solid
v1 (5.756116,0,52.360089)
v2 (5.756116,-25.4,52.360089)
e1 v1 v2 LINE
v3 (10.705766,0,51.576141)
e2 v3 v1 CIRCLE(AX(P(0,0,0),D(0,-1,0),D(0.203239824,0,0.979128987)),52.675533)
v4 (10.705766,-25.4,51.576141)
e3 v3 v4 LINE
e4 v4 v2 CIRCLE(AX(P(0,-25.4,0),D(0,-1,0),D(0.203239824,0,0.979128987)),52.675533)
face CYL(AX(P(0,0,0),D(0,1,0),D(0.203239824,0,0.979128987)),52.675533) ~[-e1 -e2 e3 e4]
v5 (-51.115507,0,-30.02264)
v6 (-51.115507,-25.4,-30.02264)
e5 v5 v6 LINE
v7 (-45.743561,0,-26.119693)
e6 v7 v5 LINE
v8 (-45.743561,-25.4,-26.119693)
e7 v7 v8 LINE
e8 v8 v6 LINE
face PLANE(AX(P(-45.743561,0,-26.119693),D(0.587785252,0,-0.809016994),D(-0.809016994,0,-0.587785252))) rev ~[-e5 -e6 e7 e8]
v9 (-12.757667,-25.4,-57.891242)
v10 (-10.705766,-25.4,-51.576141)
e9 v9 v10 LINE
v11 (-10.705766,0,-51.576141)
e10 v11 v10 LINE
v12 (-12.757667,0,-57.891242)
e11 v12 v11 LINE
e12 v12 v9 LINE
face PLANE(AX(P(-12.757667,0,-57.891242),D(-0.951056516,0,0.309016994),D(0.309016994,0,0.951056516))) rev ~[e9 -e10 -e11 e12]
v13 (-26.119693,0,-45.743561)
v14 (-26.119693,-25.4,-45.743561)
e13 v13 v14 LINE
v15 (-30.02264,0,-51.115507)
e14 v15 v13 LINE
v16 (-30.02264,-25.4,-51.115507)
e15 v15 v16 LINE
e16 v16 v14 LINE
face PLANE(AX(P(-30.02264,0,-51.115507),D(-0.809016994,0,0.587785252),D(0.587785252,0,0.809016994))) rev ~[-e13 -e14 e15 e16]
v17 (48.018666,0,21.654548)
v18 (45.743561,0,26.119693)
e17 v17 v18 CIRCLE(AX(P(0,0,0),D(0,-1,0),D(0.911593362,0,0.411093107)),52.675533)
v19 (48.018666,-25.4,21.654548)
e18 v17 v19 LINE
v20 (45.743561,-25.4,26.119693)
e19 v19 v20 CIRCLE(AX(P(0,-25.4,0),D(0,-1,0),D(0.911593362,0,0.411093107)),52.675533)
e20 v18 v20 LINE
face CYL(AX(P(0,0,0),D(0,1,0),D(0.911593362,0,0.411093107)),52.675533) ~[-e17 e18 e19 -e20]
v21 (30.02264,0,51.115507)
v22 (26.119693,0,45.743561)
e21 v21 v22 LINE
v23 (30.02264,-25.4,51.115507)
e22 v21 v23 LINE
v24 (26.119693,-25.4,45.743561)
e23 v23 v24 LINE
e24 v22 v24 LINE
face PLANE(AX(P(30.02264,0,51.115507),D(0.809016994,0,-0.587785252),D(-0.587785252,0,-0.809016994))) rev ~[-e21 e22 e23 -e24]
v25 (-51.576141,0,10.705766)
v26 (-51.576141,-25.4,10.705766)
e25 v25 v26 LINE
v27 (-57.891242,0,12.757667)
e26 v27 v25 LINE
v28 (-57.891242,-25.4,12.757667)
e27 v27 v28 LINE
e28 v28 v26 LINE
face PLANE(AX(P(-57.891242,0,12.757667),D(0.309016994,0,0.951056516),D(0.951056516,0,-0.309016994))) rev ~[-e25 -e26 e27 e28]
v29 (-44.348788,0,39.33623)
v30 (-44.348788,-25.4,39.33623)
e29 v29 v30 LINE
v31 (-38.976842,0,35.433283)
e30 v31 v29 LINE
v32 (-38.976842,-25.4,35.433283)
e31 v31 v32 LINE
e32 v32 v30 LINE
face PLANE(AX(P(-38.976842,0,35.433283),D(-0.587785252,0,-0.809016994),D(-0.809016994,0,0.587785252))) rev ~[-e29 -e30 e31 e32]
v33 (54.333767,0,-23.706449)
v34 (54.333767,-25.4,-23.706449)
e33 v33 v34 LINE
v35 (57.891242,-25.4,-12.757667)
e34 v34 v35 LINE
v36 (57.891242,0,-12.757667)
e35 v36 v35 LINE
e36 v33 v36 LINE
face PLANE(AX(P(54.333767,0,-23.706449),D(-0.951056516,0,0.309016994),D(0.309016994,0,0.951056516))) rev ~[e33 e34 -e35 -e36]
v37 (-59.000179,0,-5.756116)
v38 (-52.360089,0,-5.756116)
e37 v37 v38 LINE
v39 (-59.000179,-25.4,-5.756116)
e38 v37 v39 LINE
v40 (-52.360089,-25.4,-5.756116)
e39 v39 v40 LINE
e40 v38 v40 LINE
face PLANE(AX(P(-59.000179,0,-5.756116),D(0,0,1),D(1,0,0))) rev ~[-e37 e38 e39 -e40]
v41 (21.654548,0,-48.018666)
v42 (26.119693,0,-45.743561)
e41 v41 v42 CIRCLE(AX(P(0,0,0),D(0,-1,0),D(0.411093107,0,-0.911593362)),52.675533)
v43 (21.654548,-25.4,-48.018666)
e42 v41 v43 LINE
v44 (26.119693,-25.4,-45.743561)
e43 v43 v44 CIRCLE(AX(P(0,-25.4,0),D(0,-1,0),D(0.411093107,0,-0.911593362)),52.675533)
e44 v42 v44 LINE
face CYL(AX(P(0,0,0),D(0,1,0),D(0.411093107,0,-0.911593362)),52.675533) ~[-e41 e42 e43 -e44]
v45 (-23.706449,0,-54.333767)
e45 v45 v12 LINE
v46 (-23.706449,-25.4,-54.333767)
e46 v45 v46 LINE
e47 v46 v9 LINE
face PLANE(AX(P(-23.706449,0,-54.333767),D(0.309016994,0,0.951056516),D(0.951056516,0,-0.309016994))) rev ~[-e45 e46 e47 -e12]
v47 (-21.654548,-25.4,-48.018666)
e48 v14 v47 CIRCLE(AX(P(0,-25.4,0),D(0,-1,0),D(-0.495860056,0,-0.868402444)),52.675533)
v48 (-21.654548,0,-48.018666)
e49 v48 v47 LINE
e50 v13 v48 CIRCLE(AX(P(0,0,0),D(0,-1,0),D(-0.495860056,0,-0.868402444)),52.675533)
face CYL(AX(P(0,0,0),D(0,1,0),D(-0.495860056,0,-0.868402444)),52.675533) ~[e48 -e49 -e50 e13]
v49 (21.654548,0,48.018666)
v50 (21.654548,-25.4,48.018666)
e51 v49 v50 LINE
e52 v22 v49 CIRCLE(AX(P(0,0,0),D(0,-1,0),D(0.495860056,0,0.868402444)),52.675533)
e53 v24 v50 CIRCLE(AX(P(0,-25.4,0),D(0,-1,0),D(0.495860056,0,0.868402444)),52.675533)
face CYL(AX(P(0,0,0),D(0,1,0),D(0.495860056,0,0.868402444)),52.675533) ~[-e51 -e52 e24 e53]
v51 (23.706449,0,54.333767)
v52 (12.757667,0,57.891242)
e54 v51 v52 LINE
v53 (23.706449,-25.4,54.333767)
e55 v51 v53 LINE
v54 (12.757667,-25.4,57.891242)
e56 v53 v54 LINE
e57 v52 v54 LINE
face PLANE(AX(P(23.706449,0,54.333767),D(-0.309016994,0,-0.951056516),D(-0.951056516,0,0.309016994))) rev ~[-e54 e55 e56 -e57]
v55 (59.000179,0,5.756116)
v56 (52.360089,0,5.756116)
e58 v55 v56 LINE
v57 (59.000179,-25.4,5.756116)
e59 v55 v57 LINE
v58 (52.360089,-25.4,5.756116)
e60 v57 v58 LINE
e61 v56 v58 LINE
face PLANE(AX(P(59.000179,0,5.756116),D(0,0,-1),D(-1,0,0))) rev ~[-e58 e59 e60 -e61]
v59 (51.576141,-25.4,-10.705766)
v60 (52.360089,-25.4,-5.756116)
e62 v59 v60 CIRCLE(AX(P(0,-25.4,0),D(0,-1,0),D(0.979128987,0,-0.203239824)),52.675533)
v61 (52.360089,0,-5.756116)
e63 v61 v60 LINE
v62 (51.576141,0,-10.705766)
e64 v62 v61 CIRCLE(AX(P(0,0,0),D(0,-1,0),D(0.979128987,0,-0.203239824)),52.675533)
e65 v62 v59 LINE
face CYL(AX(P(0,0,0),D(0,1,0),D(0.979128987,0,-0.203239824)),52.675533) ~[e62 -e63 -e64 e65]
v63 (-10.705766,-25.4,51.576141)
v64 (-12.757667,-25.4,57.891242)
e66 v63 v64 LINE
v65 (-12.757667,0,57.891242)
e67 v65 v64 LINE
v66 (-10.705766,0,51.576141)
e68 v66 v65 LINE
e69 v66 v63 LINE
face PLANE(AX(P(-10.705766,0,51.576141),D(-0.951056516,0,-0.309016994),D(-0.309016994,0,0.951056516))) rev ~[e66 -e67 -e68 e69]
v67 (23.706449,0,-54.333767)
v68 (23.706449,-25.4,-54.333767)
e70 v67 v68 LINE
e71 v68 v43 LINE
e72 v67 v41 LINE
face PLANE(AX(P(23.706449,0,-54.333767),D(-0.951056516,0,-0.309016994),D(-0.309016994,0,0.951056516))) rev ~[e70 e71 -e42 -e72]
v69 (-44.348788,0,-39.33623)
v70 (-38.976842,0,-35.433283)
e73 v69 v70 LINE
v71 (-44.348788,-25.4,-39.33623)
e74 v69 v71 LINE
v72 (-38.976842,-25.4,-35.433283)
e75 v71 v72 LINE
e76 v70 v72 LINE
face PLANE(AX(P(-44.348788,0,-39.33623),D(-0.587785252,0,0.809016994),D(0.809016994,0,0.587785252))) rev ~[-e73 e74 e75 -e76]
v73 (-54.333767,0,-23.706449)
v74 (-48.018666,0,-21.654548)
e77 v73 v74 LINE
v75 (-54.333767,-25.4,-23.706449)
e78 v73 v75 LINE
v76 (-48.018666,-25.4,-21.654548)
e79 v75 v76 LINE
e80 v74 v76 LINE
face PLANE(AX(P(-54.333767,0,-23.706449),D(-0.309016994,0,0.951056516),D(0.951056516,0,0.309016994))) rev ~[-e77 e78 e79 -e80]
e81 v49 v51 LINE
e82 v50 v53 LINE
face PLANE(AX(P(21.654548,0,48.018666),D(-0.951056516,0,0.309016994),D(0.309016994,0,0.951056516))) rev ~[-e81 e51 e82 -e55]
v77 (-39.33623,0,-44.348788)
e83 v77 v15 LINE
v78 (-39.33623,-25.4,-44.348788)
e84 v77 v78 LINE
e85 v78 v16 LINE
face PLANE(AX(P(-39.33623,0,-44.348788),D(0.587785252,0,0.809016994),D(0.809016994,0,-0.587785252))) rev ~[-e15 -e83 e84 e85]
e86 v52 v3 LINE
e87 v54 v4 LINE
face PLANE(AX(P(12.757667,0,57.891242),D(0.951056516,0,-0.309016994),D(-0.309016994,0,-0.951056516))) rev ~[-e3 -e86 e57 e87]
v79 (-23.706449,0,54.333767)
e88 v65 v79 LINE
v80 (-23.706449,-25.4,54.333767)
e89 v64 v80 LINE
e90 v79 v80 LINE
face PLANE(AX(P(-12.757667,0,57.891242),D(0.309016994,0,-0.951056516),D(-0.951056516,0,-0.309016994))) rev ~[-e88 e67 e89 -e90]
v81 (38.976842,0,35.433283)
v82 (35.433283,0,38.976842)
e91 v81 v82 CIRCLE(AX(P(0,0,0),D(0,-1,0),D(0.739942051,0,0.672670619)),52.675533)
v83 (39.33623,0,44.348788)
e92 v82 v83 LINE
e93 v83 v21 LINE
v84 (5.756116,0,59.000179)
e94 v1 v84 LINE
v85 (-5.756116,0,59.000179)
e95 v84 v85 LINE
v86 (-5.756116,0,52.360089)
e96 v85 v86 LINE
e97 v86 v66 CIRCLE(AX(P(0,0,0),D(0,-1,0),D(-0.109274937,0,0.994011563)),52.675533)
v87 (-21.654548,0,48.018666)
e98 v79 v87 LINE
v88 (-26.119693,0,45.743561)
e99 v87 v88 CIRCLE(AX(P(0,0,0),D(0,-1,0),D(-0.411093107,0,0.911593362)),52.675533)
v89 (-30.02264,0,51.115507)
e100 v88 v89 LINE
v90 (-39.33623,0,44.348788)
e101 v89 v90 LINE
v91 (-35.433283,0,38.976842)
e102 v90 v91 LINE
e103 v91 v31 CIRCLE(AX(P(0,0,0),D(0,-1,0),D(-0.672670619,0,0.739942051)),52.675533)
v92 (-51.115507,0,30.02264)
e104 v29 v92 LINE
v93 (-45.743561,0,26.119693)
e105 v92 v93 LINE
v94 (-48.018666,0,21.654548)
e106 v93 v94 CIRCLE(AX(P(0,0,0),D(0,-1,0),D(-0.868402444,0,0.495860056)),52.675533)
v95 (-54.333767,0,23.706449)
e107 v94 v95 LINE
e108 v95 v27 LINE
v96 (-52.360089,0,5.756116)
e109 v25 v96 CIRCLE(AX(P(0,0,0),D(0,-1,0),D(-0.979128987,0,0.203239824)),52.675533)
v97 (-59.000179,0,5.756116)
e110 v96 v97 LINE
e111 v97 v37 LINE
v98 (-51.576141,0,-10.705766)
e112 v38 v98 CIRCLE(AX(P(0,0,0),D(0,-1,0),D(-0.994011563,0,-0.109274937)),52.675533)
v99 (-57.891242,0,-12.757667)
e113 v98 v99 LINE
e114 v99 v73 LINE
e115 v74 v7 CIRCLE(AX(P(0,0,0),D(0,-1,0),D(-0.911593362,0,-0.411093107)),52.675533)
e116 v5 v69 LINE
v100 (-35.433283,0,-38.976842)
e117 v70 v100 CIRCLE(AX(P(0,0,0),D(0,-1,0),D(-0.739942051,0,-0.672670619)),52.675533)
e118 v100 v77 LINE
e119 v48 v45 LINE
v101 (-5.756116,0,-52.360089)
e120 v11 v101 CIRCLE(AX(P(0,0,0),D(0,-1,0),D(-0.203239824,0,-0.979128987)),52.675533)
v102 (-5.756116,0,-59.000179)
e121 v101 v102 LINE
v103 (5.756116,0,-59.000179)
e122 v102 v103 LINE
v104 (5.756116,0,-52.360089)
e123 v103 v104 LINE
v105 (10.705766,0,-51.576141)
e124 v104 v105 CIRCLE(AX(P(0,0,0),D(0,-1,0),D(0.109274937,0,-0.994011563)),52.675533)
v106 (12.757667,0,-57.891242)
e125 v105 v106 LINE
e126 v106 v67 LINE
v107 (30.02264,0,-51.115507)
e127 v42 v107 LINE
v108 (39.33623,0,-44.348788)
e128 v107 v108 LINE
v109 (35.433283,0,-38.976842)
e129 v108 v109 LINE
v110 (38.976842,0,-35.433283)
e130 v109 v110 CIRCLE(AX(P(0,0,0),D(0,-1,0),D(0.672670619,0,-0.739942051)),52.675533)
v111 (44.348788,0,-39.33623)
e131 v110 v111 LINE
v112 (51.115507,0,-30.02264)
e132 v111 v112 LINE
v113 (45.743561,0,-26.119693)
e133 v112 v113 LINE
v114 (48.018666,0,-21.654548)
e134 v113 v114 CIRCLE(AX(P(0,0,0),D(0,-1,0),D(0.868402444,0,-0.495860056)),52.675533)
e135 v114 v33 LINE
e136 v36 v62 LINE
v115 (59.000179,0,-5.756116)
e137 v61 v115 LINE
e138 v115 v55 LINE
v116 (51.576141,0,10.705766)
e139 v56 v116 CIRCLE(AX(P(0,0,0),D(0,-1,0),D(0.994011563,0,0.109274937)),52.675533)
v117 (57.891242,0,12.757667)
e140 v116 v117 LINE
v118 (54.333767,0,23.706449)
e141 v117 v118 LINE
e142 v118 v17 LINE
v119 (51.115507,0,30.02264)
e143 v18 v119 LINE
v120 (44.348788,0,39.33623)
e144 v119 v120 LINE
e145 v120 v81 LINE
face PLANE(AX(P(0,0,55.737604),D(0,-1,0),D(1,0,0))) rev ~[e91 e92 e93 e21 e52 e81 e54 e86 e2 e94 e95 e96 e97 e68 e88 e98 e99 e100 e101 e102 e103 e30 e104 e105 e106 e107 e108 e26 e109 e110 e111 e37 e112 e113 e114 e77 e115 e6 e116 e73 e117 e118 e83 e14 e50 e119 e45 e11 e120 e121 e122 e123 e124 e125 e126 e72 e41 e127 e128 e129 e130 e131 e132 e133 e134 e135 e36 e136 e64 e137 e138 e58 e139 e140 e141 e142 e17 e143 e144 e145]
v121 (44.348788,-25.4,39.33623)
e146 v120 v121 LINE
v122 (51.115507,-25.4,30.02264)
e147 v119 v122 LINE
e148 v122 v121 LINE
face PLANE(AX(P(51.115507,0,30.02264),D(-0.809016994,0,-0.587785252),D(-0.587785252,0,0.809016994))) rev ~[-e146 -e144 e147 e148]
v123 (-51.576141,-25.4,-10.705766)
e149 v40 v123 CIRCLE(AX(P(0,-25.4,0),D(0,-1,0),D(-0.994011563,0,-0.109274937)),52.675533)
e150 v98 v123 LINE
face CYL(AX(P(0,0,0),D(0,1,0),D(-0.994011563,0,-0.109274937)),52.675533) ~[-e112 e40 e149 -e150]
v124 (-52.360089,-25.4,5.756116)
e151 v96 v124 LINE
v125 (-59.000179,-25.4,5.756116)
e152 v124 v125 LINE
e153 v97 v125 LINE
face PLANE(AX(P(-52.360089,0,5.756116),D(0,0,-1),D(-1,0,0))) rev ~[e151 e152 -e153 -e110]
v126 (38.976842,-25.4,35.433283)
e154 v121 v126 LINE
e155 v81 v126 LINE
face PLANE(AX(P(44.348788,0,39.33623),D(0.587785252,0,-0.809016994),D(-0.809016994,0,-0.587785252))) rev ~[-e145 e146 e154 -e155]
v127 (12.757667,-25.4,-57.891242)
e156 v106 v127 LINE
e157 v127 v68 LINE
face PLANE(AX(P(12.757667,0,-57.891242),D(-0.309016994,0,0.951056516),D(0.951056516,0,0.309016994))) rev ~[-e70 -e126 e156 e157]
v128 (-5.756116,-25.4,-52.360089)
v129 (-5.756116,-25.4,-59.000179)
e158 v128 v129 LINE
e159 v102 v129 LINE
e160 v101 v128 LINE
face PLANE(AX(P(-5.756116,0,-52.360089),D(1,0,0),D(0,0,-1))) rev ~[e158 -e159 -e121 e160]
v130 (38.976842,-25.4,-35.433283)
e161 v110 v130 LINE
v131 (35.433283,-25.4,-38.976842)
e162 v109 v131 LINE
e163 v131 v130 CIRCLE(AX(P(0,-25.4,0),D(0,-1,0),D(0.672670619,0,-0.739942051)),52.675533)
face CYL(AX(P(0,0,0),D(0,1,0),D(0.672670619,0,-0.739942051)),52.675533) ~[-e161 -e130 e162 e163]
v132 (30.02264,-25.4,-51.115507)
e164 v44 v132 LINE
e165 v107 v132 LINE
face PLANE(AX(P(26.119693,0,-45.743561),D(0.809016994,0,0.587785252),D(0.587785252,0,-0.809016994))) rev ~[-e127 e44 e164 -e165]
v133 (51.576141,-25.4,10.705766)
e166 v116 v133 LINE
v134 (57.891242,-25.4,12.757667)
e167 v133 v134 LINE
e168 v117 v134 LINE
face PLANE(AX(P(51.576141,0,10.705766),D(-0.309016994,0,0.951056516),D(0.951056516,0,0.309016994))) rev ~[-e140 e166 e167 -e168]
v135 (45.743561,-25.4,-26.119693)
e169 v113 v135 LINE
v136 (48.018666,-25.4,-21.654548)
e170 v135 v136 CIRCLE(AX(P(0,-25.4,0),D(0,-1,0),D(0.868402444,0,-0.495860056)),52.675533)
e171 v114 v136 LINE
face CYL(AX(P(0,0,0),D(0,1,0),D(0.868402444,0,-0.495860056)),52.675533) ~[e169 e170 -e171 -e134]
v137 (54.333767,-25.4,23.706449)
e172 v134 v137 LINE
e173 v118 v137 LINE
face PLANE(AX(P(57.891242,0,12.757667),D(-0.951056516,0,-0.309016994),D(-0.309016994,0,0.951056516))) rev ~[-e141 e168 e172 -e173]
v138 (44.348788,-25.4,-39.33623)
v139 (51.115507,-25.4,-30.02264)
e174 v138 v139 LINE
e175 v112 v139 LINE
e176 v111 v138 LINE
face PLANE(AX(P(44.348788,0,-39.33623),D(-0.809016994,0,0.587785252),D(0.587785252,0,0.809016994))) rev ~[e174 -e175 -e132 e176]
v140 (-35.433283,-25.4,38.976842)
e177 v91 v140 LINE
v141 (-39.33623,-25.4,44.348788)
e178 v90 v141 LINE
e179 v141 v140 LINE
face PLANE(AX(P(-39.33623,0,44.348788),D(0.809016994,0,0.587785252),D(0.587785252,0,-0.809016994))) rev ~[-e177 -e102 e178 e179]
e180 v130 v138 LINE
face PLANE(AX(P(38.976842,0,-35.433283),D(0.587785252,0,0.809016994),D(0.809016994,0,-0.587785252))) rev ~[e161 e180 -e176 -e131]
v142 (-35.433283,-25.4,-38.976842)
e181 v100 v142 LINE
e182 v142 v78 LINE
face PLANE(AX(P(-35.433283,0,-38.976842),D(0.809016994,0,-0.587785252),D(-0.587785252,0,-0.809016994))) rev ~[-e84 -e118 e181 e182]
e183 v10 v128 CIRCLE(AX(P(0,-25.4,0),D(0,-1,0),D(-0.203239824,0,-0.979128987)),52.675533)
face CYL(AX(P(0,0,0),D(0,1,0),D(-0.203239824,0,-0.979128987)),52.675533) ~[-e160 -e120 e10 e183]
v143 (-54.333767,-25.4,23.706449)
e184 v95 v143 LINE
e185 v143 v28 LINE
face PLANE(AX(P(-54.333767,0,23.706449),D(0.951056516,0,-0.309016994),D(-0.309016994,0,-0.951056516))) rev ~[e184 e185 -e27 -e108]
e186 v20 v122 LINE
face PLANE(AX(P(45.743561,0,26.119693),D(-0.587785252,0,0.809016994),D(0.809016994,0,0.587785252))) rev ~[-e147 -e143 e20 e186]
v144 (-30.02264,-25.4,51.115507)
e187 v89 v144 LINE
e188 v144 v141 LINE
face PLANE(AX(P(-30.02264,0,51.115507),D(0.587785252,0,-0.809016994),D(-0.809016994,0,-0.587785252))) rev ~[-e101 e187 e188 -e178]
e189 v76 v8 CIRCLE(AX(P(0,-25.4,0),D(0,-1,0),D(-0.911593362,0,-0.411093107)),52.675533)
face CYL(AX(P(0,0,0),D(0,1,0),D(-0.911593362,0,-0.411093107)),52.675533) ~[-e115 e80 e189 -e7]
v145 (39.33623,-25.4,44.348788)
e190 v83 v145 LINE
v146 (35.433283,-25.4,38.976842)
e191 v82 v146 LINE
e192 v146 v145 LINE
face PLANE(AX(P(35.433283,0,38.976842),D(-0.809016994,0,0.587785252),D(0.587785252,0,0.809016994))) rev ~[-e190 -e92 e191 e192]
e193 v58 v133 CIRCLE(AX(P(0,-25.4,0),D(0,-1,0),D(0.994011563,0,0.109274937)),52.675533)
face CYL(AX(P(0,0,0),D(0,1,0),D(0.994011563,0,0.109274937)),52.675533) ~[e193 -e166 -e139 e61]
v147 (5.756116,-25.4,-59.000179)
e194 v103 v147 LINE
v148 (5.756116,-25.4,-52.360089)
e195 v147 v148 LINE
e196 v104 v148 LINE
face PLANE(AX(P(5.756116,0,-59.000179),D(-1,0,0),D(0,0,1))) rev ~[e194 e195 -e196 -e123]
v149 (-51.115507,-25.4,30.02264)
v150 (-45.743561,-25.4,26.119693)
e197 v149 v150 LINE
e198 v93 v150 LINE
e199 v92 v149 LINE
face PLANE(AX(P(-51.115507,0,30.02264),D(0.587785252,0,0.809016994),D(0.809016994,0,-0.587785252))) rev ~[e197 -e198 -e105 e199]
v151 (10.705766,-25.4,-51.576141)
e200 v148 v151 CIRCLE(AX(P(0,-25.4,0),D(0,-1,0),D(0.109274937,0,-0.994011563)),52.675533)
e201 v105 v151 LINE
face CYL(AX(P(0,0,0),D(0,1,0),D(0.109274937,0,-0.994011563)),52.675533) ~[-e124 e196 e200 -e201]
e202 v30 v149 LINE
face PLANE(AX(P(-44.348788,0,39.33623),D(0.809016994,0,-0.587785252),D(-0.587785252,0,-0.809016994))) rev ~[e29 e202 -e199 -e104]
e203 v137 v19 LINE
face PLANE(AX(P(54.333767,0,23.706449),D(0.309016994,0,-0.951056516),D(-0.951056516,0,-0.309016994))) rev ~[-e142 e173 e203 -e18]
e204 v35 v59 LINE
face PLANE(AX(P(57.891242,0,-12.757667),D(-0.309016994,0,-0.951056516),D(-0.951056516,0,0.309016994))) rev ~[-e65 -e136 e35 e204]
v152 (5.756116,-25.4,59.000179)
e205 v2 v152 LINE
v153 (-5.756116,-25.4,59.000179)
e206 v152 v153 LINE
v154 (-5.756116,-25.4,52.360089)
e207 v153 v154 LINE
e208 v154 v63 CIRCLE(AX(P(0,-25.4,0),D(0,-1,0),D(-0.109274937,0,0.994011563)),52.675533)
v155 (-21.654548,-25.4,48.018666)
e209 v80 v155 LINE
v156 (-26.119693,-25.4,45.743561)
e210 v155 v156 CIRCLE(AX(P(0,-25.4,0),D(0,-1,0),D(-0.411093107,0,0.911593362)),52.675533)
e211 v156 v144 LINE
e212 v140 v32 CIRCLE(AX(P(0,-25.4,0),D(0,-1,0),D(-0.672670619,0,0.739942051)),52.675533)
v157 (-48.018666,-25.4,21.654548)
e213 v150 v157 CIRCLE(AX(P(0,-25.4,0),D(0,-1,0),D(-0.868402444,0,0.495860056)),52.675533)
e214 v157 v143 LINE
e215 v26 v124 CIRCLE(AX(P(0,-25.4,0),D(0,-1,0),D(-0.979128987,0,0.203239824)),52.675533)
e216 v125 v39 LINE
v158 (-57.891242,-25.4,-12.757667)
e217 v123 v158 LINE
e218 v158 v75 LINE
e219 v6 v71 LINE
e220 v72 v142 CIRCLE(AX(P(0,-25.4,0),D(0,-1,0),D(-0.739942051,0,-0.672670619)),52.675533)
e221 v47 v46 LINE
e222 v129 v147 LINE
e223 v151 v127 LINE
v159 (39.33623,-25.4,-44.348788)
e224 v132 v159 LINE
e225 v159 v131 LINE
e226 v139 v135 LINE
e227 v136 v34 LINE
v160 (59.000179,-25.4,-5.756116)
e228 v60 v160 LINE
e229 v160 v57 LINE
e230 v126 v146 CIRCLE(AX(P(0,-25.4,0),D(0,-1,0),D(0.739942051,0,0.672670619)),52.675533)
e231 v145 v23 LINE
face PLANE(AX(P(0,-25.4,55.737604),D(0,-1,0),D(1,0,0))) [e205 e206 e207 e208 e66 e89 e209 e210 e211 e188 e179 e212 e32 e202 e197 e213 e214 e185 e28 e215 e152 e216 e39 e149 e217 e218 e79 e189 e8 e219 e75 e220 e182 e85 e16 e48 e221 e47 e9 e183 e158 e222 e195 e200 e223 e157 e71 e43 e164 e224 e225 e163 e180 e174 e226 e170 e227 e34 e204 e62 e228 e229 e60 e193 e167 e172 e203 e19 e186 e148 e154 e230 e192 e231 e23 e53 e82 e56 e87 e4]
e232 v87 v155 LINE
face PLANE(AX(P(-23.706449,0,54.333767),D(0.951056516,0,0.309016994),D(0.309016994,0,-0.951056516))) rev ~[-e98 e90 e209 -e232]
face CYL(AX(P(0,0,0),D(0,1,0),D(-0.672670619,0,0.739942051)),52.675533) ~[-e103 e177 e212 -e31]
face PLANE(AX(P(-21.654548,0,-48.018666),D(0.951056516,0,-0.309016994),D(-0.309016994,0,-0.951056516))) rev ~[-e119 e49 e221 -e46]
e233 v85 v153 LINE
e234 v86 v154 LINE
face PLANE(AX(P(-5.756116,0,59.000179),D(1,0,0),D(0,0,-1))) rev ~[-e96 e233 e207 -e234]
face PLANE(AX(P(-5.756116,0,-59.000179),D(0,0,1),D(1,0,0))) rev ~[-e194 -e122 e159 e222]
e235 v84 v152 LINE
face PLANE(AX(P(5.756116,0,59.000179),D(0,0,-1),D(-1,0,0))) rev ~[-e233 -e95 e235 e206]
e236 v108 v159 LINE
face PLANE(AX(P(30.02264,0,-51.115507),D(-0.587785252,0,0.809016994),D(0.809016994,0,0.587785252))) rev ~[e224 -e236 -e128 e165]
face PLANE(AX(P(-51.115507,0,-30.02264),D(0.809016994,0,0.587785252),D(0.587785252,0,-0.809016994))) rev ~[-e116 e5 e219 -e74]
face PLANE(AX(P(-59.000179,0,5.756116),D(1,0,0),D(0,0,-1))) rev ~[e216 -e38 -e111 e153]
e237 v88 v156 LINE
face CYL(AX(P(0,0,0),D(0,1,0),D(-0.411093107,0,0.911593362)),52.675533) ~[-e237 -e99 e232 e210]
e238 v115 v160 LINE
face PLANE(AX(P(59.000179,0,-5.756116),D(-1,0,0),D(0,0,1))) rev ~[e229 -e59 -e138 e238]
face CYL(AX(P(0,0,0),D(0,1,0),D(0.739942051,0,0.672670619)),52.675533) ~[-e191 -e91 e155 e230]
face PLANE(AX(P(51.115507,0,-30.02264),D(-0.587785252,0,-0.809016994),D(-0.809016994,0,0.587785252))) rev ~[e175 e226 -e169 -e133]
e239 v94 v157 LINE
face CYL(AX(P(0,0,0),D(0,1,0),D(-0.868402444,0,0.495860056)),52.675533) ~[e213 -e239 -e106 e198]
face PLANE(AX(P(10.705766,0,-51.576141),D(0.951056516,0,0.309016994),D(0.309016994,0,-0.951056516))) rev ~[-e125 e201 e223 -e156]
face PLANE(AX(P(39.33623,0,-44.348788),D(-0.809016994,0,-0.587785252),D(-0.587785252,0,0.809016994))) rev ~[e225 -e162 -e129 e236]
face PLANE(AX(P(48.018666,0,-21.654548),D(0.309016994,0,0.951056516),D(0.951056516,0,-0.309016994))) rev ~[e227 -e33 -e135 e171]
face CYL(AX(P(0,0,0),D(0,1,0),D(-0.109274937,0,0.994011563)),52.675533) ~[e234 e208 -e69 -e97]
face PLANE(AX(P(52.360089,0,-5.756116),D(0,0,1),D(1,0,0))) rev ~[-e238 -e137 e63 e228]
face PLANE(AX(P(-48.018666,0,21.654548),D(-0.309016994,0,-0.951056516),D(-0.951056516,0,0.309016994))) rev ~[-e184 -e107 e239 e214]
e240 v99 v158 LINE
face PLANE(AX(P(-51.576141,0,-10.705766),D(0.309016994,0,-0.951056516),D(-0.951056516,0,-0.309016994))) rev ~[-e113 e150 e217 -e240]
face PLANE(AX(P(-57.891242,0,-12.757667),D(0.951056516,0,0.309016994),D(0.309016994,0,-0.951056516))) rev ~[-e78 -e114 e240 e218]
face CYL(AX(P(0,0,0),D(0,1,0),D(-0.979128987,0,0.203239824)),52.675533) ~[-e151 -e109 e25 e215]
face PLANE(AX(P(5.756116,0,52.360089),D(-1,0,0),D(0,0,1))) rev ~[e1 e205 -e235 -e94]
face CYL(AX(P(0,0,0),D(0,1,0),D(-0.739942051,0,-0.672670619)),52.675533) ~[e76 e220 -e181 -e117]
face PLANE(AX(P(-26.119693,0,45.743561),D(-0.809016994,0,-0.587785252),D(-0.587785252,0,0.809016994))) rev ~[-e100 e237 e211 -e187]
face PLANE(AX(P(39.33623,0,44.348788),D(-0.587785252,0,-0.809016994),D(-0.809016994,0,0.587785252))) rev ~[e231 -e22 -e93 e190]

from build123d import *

# Parameters (mm, degrees)
F1_DEPTH = 25.4


with BuildPart() as f1:
    # F0 (on Front) → F1 (new body)
    with BuildSketch(Plane.XZ):
        with BuildLine():
            Line((5.7561155409, 52.3600886255), (5.7561155409, 59.0001791716))
            Line((5.7561155409, 59.0001791716), (-5.7561155409, 59.0001791716))
            Line((-5.7561155409, 59.0001791716), (-5.7561155409, 52.3600886255))
            ThreePointArc((-5.7561155409, 52.3600886255), (0, 52.6755327167), (5.7561155409, 52.3600886255))
        make_face()
        with BuildLine():
            ThreePointArc((10.7057660186, 51.5761410048), (8.2402687813, 52.027009499), (5.7561155409, 52.3600886255))
            Line((5.7561155409, 52.3600886255), (5.7561155409, 46.3508862619))
            Line((5.7561155409, 46.3508862619), (-5.7561155409, 46.3508862619))
            Line((-5.7561155409, 46.3508862619), (-5.7561155409, 52.3600886255))
            ThreePointArc((-5.7561155409, 52.3600886255), (-8.2402687813, 52.027009499), (-10.7057660186, 51.5761410048))
            Line((-10.7057660186, 51.5761410048), (-8.8488203656, 45.8610499392))
            Line((-8.8488203656, 45.8610499392), (-19.797602753, 42.3035748917))
            Line((-19.797602753, 42.3035748917), (-21.6545484059, 48.0186659574))
            ThreePointArc((-21.6545484059, 48.0186659574), (-23.9141914221, 46.9342433157), (-26.1196926087, 45.7435613504))
            ThreePointArc((-26.1196926087, 45.7435613504), (-30.9619012875, 42.6154011556), (-35.433283197, 38.9768416996))
            ThreePointArc((-35.433283197, 38.9768416996), (-37.2472263866, 37.2472263866), (-38.9768416996, 35.433283197))
            ThreePointArc((-38.9768416996, 35.433283197), (-42.6154011556, 30.9619012875), (-45.7435613504, 26.1196926087))
            ThreePointArc((-45.7435613504, 26.1196926087), (-46.9342433157, 23.9141914221), (-48.0186659574, 21.6545484059))
            ThreePointArc((-48.0186659574, 21.6545484059), (-50.0974086396, 16.2776347972), (-51.5761410048, 10.7057660186))
            ThreePointArc((-51.5761410048, 10.7057660186), (-52.027009499, 8.2402687813), (-52.3600886255, 5.7561155409))
            ThreePointArc((-52.3600886255, 5.7561155409), (-52.6755327167, 0), (-52.3600886255, -5.7561155409))
            ThreePointArc((-52.3600886255, -5.7561155409), (-52.027009499, -8.2402687813), (-51.5761410048, -10.7057660186))
            ThreePointArc((-51.5761410048, -10.7057660186), (-50.0974086396, -16.2776347972), (-48.0186659574, -21.6545484059))
            ThreePointArc((-48.0186659574, -21.6545484059), (-46.9342433157, -23.9141914221), (-45.7435613504, -26.1196926087))
            Line((-45.7435613504, -26.1196926087), (-40.8820145156, -22.5875720813))
            Line((-40.8820145156, -22.5875720813), (-34.1152948648, -31.9011626696))
            Line((-34.1152948648, -31.9011626696), (-38.9768416996, -35.433283197))
            ThreePointArc((-38.9768416996, -35.433283197), (-37.2472263866, -37.2472263866), (-35.433283197, -38.9768416996))
            Line((-35.433283197, -38.9768416996), (-31.9011626696, -34.1152948648))
            Line((-31.9011626696, -34.1152948648), (-22.5875720813, -40.8820145156))
            Line((-22.5875720813, -40.8820145156), (-26.1196926087, -45.7435613504))
            ThreePointArc((-26.1196926087, -45.7435613504), (-23.9141914221, -46.9342433157), (-21.6545484059, -48.0186659574))
            Line((-21.6545484059, -48.0186659574), (-19.797602753, -42.3035748917))
            Line((-19.797602753, -42.3035748917), (-8.8488203656, -45.8610499392))
            Line((-8.8488203656, -45.8610499392), (-10.7057660186, -51.5761410048))
            ThreePointArc((-10.7057660186, -51.5761410048), (-8.2402687813, -52.027009499), (-5.7561155409, -52.3600886255))
            Line((-5.7561155409, -52.3600886255), (-5.7561155409, -46.3508862619))
            Line((-5.7561155409, -46.3508862619), (5.7561155409, -46.3508862619))
            Line((5.7561155409, -46.3508862619), (5.7561155409, -52.3600886255))
            ThreePointArc((5.7561155409, -52.3600886255), (8.2402687813, -52.027009499), (10.7057660186, -51.5761410048))
            Line((10.7057660186, -51.5761410048), (8.8488203656, -45.8610499392))
            Line((8.8488203656, -45.8610499392), (19.797602753, -42.3035748917))
            Line((19.797602753, -42.3035748917), (21.6545484059, -48.0186659574))
            ThreePointArc((21.6545484059, -48.0186659574), (23.9141914221, -46.9342433157), (26.1196926087, -45.7435613504))
            Line((26.1196926087, -45.7435613504), (22.5875720813, -40.8820145156))
            Line((22.5875720813, -40.8820145156), (31.9011626696, -34.1152948648))
            Line((31.9011626696, -34.1152948648), (35.433283197, -38.9768416996))
            ThreePointArc((35.433283197, -38.9768416996), (37.2472263866, -37.2472263866), (38.9768416996, -35.433283197))
            Line((38.9768416996, -35.433283197), (34.1152948648, -31.9011626696))
            Line((34.1152948648, -31.9011626696), (40.8820145156, -22.5875720813))
            Line((40.8820145156, -22.5875720813), (45.7435613504, -26.1196926087))
            ThreePointArc((45.7435613504, -26.1196926087), (46.9342433157, -23.9141914221), (48.0186659574, -21.6545484059))
            Line((48.0186659574, -21.6545484059), (42.3035748917, -19.797602753))
            Line((42.3035748917, -19.797602753), (45.8610499392, -8.8488203656))
            Line((45.8610499392, -8.8488203656), (51.5761410048, -10.7057660186))
            ThreePointArc((51.5761410048, -10.7057660186), (52.027009499, -8.2402687813), (52.3600886255, -5.7561155409))
            Line((52.3600886255, -5.7561155409), (46.3508862619, -5.7561155409))
            Line((46.3508862619, -5.7561155409), (46.3508862619, 5.7561155409))
            Line((46.3508862619, 5.7561155409), (52.3600886255, 5.7561155409))
            ThreePointArc((52.3600886255, 5.7561155409), (52.027009499, 8.2402687813), (51.5761410048, 10.7057660186))
            Line((51.5761410048, 10.7057660186), (45.8610499392, 8.8488203656))
            Line((45.8610499392, 8.8488203656), (42.3035748917, 19.797602753))
            Line((42.3035748917, 19.797602753), (48.0186659574, 21.6545484059))
            ThreePointArc((48.0186659574, 21.6545484059), (46.9342433157, 23.9141914221), (45.7435613504, 26.1196926087))
            Line((45.7435613504, 26.1196926087), (40.8820145156, 22.5875720813))
            Line((40.8820145156, 22.5875720813), (34.1152948648, 31.9011626696))
            Line((34.1152948648, 31.9011626696), (38.9768416996, 35.433283197))
            ThreePointArc((38.9768416996, 35.433283197), (37.2472263866, 37.2472263866), (35.433283197, 38.9768416996))
            Line((35.433283197, 38.9768416996), (31.9011626696, 34.1152948648))
            Line((31.9011626696, 34.1152948648), (22.5875720813, 40.8820145156))
            Line((22.5875720813, 40.8820145156), (26.1196926087, 45.7435613504))
            ThreePointArc((26.1196926087, 45.7435613504), (23.9141914221, 46.9342433157), (21.6545484059, 48.0186659574))
            Line((21.6545484059, 48.0186659574), (19.797602753, 42.3035748917))
            Line((19.797602753, 42.3035748917), (8.8488203656, 45.8610499392))
            Line((8.8488203656, 45.8610499392), (10.7057660186, 51.5761410048))
        make_face()
        with BuildLine():
            Line((5.7561155409, 46.3508862619), (5.7561155409, 52.3600886255))
            ThreePointArc((5.7561155409, 52.3600886255), (0, 52.6755327167), (-5.7561155409, 52.3600886255))
            Line((-5.7561155409, 52.3600886255), (-5.7561155409, 46.3508862619))
            Line((-5.7561155409, 46.3508862619), (5.7561155409, 46.3508862619))
        make_face()
        with BuildLine():
            ThreePointArc((21.6545484059, 48.0186659574), (16.2776347972, 50.0974086396), (10.7057660186, 51.5761410048))
            Line((10.7057660186, 51.5761410048), (8.8488203656, 45.8610499392))
            Line((8.8488203656, 45.8610499392), (19.797602753, 42.3035748917))
            Line((19.797602753, 42.3035748917), (21.6545484059, 48.0186659574))
        make_face()
        with BuildLine():
            Line((12.7576668415, 57.8912423874), (10.7057660186, 51.5761410048))
            ThreePointArc((10.7057660186, 51.5761410048), (16.2776347972, 50.0974086396), (21.6545484059, 48.0186659574))
            Line((21.6545484059, 48.0186659574), (23.7064492289, 54.33376734))
            Line((23.7064492289, 54.33376734), (12.7576668415, 57.8912423874))
        make_face()
        with BuildLine():
            ThreePointArc((-21.6545484059, 48.0186659574), (-16.2776347972, 50.0974086396), (-10.7057660186, 51.5761410048))
            Line((-10.7057660186, 51.5761410048), (-12.7576668415, 57.8912423874))
            Line((-12.7576668415, 57.8912423874), (-23.7064492289, 54.33376734))
            Line((-23.7064492289, 54.33376734), (-21.6545484059, 48.0186659574))
        make_face()
        with BuildLine():
            Line((-8.8488203656, 45.8610499392), (-10.7057660186, 51.5761410048))
            ThreePointArc((-10.7057660186, 51.5761410048), (-16.2776347972, 50.0974086396), (-21.6545484059, 48.0186659574))
            Line((-21.6545484059, 48.0186659574), (-19.797602753, 42.3035748917))
            Line((-19.797602753, 42.3035748917), (-8.8488203656, 45.8610499392))
        make_face()
        with BuildLine():
            ThreePointArc((35.433283197, 38.9768416996), (30.9619012875, 42.6154011556), (26.1196926087, 45.7435613504))
            Line((26.1196926087, 45.7435613504), (22.5875720813, 40.8820145156))
            Line((22.5875720813, 40.8820145156), (31.9011626696, 34.1152948648))
            Line((31.9011626696, 34.1152948648), (35.433283197, 38.9768416996))
        make_face()
        with BuildLine():
            Line((30.0226399055, 51.1155074464), (26.1196926087, 45.7435613504))
            ThreePointArc((26.1196926087, 45.7435613504), (30.9619012875, 42.6154011556), (35.433283197, 38.9768416996))
            Line((35.433283197, 38.9768416996), (39.3362304938, 44.3487877956))
            Line((39.3362304938, 44.3487877956), (30.0226399055, 51.1155074464))
        make_face()
        with BuildLine():
            ThreePointArc((-35.433283197, 38.9768416996), (-30.9619012875, 42.6154011556), (-26.1196926087, 45.7435613504))
            Line((-26.1196926087, 45.7435613504), (-30.0226399055, 51.1155074464))
            Line((-30.0226399055, 51.1155074464), (-39.3362304938, 44.3487877956))
            Line((-39.3362304938, 44.3487877956), (-35.433283197, 38.9768416996))
        make_face()
        with BuildLine():
            ThreePointArc((45.7435613504, 26.1196926087), (42.6154011556, 30.9619012875), (38.9768416996, 35.433283197))
            Line((38.9768416996, 35.433283197), (34.1152948648, 31.9011626696))
            Line((34.1152948648, 31.9011626696), (40.8820145156, 22.5875720813))
            Line((40.8820145156, 22.5875720813), (45.7435613504, 26.1196926087))
        make_face()
        with BuildLine():
            Line((44.3487877956, 39.3362304938), (38.9768416996, 35.433283197))
            ThreePointArc((38.9768416996, 35.433283197), (42.6154011556, 30.9619012875), (45.7435613504, 26.1196926087))
            Line((45.7435613504, 26.1196926087), (51.1155074464, 30.0226399055))
            Line((51.1155074464, 30.0226399055), (44.3487877956, 39.3362304938))
        make_face()
        with BuildLine():
            ThreePointArc((-45.7435613504, 26.1196926087), (-42.6154011556, 30.9619012875), (-38.9768416996, 35.433283197))
            Line((-38.9768416996, 35.433283197), (-44.3487877956, 39.3362304938))
            Line((-44.3487877956, 39.3362304938), (-51.1155074464, 30.0226399055))
            Line((-51.1155074464, 30.0226399055), (-45.7435613504, 26.1196926087))
        make_face()
        with BuildLine():
            ThreePointArc((51.5761410048, 10.7057660186), (50.0974086396, 16.2776347972), (48.0186659574, 21.6545484059))
            Line((48.0186659574, 21.6545484059), (42.3035748917, 19.797602753))
            Line((42.3035748917, 19.797602753), (45.8610499392, 8.8488203656))
            Line((45.8610499392, 8.8488203656), (51.5761410048, 10.7057660186))
        make_face()
        with BuildLine():
            Line((54.33376734, 23.7064492289), (48.0186659574, 21.6545484059))
            ThreePointArc((48.0186659574, 21.6545484059), (50.0974086396, 16.2776347972), (51.5761410048, 10.7057660186))
            Line((51.5761410048, 10.7057660186), (57.8912423874, 12.7576668415))
            Line((57.8912423874, 12.7576668415), (54.33376734, 23.7064492289))
        make_face()
        with BuildLine():
            ThreePointArc((-51.5761410048, 10.7057660186), (-50.0974086396, 16.2776347972), (-48.0186659574, 21.6545484059))
            Line((-48.0186659574, 21.6545484059), (-54.33376734, 23.7064492289))
            Line((-54.33376734, 23.7064492289), (-57.8912423874, 12.7576668415))
            Line((-57.8912423874, 12.7576668415), (-51.5761410048, 10.7057660186))
        make_face()
        with BuildLine():
            ThreePointArc((52.6755327167, 0), (52.5966125736, 2.8823762373), (52.3600886255, 5.7561155409))
            Line((52.3600886255, 5.7561155409), (46.3508862619, 5.7561155409))
            Line((46.3508862619, 5.7561155409), (46.3508862619, -5.7561155409))
            Line((46.3508862619, -5.7561155409), (52.3600886255, -5.7561155409))
            ThreePointArc((52.3600886255, -5.7561155409), (52.5966125736, -2.8823762373), (52.6755327167, 0))
        make_face()
        with BuildLine():
            Line((59.0001791716, 5.7561155409), (52.3600886255, 5.7561155409))
            ThreePointArc((52.3600886255, 5.7561155409), (52.5966125736, 2.8823762373), (52.6755327167, 0))
            ThreePointArc((52.6755327167, 0), (52.5966125736, -2.8823762373), (52.3600886255, -5.7561155409))
            Line((52.3600886255, -5.7561155409), (59.0001791716, -5.7561155409))
            Line((59.0001791716, -5.7561155409), (59.0001791716, 5.7561155409))
        make_face()
        with BuildLine():
            ThreePointArc((-52.3600886255, -5.7561155409), (-52.6755327167, 0), (-52.3600886255, 5.7561155409))
            Line((-52.3600886255, 5.7561155409), (-59.0001791716, 5.7561155409))
            Line((-59.0001791716, 5.7561155409), (-59.0001791716, -5.7561155409))
            Line((-59.0001791716, -5.7561155409), (-52.3600886255, -5.7561155409))
        make_face()
        with BuildLine():
            ThreePointArc((-48.0186659574, -21.6545484059), (-50.0974086396, -16.2776347972), (-51.5761410048, -10.7057660186))
            Line((-51.5761410048, -10.7057660186), (-57.8912423874, -12.7576668415))
            Line((-57.8912423874, -12.7576668415), (-54.33376734, -23.7064492289))
            Line((-54.33376734, -23.7064492289), (-48.0186659574, -21.6545484059))
        make_face()
        with BuildLine():
            ThreePointArc((48.0186659574, -21.6545484059), (50.0974086396, -16.2776347972), (51.5761410048, -10.7057660186))
            Line((51.5761410048, -10.7057660186), (45.8610499392, -8.8488203656))
            Line((45.8610499392, -8.8488203656), (42.3035748917, -19.797602753))
            Line((42.3035748917, -19.797602753), (48.0186659574, -21.6545484059))
        make_face()
        with BuildLine():
            Line((57.8912423874, -12.7576668415), (51.5761410048, -10.7057660186))
            ThreePointArc((51.5761410048, -10.7057660186), (50.0974086396, -16.2776347972), (48.0186659574, -21.6545484059))
            Line((48.0186659574, -21.6545484059), (54.33376734, -23.7064492289))
            Line((54.33376734, -23.7064492289), (57.8912423874, -12.7576668415))
        make_face()
        with BuildLine():
            ThreePointArc((-38.9768416996, -35.433283197), (-42.6154011556, -30.9619012875), (-45.7435613504, -26.1196926087))
            Line((-45.7435613504, -26.1196926087), (-51.1155074464, -30.0226399055))
            Line((-51.1155074464, -30.0226399055), (-44.3487877956, -39.3362304938))
            Line((-44.3487877956, -39.3362304938), (-38.9768416996, -35.433283197))
        make_face()
        with BuildLine():
            Line((-40.8820145156, -22.5875720813), (-45.7435613504, -26.1196926087))
            ThreePointArc((-45.7435613504, -26.1196926087), (-42.6154011556, -30.9619012875), (-38.9768416996, -35.433283197))
            Line((-38.9768416996, -35.433283197), (-34.1152948648, -31.9011626696))
            Line((-34.1152948648, -31.9011626696), (-40.8820145156, -22.5875720813))
        make_face()
        with BuildLine():
            ThreePointArc((38.9768416996, -35.433283197), (42.6154011556, -30.9619012875), (45.7435613504, -26.1196926087))
            Line((45.7435613504, -26.1196926087), (40.8820145156, -22.5875720813))
            Line((40.8820145156, -22.5875720813), (34.1152948648, -31.9011626696))
            Line((34.1152948648, -31.9011626696), (38.9768416996, -35.433283197))
        make_face()
        with BuildLine():
            Line((51.1155074464, -30.0226399055), (45.7435613504, -26.1196926087))
            ThreePointArc((45.7435613504, -26.1196926087), (42.6154011556, -30.9619012875), (38.9768416996, -35.433283197))
            Line((38.9768416996, -35.433283197), (44.3487877956, -39.3362304938))
            Line((44.3487877956, -39.3362304938), (51.1155074464, -30.0226399055))
        make_face()
        with BuildLine():
            ThreePointArc((-26.1196926087, -45.7435613504), (-30.9619012875, -42.6154011556), (-35.433283197, -38.9768416996))
            Line((-35.433283197, -38.9768416996), (-39.3362304938, -44.3487877956))
            Line((-39.3362304938, -44.3487877956), (-30.0226399055, -51.1155074464))
            Line((-30.0226399055, -51.1155074464), (-26.1196926087, -45.7435613504))
        make_face()
        with BuildLine():
            Line((-31.9011626696, -34.1152948648), (-35.433283197, -38.9768416996))
            ThreePointArc((-35.433283197, -38.9768416996), (-30.9619012875, -42.6154011556), (-26.1196926087, -45.7435613504))
            Line((-26.1196926087, -45.7435613504), (-22.5875720813, -40.8820145156))
            Line((-22.5875720813, -40.8820145156), (-31.9011626696, -34.1152948648))
        make_face()
        with BuildLine():
            ThreePointArc((26.1196926087, -45.7435613504), (30.9619012875, -42.6154011556), (35.433283197, -38.9768416996))
            Line((35.433283197, -38.9768416996), (31.9011626696, -34.1152948648))
            Line((31.9011626696, -34.1152948648), (22.5875720813, -40.8820145156))
            Line((22.5875720813, -40.8820145156), (26.1196926087, -45.7435613504))
        make_face()
        with BuildLine():
            Line((39.3362304938, -44.3487877956), (35.433283197, -38.9768416996))
            ThreePointArc((35.433283197, -38.9768416996), (30.9619012875, -42.6154011556), (26.1196926087, -45.7435613504))
            Line((26.1196926087, -45.7435613504), (30.0226399055, -51.1155074464))
            Line((30.0226399055, -51.1155074464), (39.3362304938, -44.3487877956))
        make_face()
        with BuildLine():
            ThreePointArc((-10.7057660186, -51.5761410048), (-16.2776347972, -50.0974086396), (-21.6545484059, -48.0186659574))
            Line((-21.6545484059, -48.0186659574), (-23.7064492289, -54.33376734))
            Line((-23.7064492289, -54.33376734), (-12.7576668415, -57.8912423874))
            Line((-12.7576668415, -57.8912423874), (-10.7057660186, -51.5761410048))
        make_face()
        with BuildLine():
            Line((-19.797602753, -42.3035748917), (-21.6545484059, -48.0186659574))
            ThreePointArc((-21.6545484059, -48.0186659574), (-16.2776347972, -50.0974086396), (-10.7057660186, -51.5761410048))
            Line((-10.7057660186, -51.5761410048), (-8.8488203656, -45.8610499392))
            Line((-8.8488203656, -45.8610499392), (-19.797602753, -42.3035748917))
        make_face()
        with BuildLine():
            ThreePointArc((10.7057660186, -51.5761410048), (16.2776347972, -50.0974086396), (21.6545484059, -48.0186659574))
            Line((21.6545484059, -48.0186659574), (19.797602753, -42.3035748917))
            Line((19.797602753, -42.3035748917), (8.8488203656, -45.8610499392))
            Line((8.8488203656, -45.8610499392), (10.7057660186, -51.5761410048))
        make_face()
        with BuildLine():
            Line((23.7064492289, -54.33376734), (21.6545484059, -48.0186659574))
            ThreePointArc((21.6545484059, -48.0186659574), (16.2776347972, -50.0974086396), (10.7057660186, -51.5761410048))
            Line((10.7057660186, -51.5761410048), (12.7576668415, -57.8912423874))
            Line((12.7576668415, -57.8912423874), (23.7064492289, -54.33376734))
        make_face()
        with BuildLine():
            ThreePointArc((5.7561155409, -52.3600886255), (0, -52.6755327167), (-5.7561155409, -52.3600886255))
            Line((-5.7561155409, -52.3600886255), (-5.7561155409, -59.0001791716))
            Line((-5.7561155409, -59.0001791716), (5.7561155409, -59.0001791716))
            Line((5.7561155409, -59.0001791716), (5.7561155409, -52.3600886255))
        make_face()
        with BuildLine():
            Line((-5.7561155409, -46.3508862619), (-5.7561155409, -52.3600886255))
            ThreePointArc((-5.7561155409, -52.3600886255), (0, -52.6755327167), (5.7561155409, -52.3600886255))
            Line((5.7561155409, -52.3600886255), (5.7561155409, -46.3508862619))
            Line((5.7561155409, -46.3508862619), (-5.7561155409, -46.3508862619))
        make_face()
    extrude(amount=F1_DEPTH)


solid = f1.part
